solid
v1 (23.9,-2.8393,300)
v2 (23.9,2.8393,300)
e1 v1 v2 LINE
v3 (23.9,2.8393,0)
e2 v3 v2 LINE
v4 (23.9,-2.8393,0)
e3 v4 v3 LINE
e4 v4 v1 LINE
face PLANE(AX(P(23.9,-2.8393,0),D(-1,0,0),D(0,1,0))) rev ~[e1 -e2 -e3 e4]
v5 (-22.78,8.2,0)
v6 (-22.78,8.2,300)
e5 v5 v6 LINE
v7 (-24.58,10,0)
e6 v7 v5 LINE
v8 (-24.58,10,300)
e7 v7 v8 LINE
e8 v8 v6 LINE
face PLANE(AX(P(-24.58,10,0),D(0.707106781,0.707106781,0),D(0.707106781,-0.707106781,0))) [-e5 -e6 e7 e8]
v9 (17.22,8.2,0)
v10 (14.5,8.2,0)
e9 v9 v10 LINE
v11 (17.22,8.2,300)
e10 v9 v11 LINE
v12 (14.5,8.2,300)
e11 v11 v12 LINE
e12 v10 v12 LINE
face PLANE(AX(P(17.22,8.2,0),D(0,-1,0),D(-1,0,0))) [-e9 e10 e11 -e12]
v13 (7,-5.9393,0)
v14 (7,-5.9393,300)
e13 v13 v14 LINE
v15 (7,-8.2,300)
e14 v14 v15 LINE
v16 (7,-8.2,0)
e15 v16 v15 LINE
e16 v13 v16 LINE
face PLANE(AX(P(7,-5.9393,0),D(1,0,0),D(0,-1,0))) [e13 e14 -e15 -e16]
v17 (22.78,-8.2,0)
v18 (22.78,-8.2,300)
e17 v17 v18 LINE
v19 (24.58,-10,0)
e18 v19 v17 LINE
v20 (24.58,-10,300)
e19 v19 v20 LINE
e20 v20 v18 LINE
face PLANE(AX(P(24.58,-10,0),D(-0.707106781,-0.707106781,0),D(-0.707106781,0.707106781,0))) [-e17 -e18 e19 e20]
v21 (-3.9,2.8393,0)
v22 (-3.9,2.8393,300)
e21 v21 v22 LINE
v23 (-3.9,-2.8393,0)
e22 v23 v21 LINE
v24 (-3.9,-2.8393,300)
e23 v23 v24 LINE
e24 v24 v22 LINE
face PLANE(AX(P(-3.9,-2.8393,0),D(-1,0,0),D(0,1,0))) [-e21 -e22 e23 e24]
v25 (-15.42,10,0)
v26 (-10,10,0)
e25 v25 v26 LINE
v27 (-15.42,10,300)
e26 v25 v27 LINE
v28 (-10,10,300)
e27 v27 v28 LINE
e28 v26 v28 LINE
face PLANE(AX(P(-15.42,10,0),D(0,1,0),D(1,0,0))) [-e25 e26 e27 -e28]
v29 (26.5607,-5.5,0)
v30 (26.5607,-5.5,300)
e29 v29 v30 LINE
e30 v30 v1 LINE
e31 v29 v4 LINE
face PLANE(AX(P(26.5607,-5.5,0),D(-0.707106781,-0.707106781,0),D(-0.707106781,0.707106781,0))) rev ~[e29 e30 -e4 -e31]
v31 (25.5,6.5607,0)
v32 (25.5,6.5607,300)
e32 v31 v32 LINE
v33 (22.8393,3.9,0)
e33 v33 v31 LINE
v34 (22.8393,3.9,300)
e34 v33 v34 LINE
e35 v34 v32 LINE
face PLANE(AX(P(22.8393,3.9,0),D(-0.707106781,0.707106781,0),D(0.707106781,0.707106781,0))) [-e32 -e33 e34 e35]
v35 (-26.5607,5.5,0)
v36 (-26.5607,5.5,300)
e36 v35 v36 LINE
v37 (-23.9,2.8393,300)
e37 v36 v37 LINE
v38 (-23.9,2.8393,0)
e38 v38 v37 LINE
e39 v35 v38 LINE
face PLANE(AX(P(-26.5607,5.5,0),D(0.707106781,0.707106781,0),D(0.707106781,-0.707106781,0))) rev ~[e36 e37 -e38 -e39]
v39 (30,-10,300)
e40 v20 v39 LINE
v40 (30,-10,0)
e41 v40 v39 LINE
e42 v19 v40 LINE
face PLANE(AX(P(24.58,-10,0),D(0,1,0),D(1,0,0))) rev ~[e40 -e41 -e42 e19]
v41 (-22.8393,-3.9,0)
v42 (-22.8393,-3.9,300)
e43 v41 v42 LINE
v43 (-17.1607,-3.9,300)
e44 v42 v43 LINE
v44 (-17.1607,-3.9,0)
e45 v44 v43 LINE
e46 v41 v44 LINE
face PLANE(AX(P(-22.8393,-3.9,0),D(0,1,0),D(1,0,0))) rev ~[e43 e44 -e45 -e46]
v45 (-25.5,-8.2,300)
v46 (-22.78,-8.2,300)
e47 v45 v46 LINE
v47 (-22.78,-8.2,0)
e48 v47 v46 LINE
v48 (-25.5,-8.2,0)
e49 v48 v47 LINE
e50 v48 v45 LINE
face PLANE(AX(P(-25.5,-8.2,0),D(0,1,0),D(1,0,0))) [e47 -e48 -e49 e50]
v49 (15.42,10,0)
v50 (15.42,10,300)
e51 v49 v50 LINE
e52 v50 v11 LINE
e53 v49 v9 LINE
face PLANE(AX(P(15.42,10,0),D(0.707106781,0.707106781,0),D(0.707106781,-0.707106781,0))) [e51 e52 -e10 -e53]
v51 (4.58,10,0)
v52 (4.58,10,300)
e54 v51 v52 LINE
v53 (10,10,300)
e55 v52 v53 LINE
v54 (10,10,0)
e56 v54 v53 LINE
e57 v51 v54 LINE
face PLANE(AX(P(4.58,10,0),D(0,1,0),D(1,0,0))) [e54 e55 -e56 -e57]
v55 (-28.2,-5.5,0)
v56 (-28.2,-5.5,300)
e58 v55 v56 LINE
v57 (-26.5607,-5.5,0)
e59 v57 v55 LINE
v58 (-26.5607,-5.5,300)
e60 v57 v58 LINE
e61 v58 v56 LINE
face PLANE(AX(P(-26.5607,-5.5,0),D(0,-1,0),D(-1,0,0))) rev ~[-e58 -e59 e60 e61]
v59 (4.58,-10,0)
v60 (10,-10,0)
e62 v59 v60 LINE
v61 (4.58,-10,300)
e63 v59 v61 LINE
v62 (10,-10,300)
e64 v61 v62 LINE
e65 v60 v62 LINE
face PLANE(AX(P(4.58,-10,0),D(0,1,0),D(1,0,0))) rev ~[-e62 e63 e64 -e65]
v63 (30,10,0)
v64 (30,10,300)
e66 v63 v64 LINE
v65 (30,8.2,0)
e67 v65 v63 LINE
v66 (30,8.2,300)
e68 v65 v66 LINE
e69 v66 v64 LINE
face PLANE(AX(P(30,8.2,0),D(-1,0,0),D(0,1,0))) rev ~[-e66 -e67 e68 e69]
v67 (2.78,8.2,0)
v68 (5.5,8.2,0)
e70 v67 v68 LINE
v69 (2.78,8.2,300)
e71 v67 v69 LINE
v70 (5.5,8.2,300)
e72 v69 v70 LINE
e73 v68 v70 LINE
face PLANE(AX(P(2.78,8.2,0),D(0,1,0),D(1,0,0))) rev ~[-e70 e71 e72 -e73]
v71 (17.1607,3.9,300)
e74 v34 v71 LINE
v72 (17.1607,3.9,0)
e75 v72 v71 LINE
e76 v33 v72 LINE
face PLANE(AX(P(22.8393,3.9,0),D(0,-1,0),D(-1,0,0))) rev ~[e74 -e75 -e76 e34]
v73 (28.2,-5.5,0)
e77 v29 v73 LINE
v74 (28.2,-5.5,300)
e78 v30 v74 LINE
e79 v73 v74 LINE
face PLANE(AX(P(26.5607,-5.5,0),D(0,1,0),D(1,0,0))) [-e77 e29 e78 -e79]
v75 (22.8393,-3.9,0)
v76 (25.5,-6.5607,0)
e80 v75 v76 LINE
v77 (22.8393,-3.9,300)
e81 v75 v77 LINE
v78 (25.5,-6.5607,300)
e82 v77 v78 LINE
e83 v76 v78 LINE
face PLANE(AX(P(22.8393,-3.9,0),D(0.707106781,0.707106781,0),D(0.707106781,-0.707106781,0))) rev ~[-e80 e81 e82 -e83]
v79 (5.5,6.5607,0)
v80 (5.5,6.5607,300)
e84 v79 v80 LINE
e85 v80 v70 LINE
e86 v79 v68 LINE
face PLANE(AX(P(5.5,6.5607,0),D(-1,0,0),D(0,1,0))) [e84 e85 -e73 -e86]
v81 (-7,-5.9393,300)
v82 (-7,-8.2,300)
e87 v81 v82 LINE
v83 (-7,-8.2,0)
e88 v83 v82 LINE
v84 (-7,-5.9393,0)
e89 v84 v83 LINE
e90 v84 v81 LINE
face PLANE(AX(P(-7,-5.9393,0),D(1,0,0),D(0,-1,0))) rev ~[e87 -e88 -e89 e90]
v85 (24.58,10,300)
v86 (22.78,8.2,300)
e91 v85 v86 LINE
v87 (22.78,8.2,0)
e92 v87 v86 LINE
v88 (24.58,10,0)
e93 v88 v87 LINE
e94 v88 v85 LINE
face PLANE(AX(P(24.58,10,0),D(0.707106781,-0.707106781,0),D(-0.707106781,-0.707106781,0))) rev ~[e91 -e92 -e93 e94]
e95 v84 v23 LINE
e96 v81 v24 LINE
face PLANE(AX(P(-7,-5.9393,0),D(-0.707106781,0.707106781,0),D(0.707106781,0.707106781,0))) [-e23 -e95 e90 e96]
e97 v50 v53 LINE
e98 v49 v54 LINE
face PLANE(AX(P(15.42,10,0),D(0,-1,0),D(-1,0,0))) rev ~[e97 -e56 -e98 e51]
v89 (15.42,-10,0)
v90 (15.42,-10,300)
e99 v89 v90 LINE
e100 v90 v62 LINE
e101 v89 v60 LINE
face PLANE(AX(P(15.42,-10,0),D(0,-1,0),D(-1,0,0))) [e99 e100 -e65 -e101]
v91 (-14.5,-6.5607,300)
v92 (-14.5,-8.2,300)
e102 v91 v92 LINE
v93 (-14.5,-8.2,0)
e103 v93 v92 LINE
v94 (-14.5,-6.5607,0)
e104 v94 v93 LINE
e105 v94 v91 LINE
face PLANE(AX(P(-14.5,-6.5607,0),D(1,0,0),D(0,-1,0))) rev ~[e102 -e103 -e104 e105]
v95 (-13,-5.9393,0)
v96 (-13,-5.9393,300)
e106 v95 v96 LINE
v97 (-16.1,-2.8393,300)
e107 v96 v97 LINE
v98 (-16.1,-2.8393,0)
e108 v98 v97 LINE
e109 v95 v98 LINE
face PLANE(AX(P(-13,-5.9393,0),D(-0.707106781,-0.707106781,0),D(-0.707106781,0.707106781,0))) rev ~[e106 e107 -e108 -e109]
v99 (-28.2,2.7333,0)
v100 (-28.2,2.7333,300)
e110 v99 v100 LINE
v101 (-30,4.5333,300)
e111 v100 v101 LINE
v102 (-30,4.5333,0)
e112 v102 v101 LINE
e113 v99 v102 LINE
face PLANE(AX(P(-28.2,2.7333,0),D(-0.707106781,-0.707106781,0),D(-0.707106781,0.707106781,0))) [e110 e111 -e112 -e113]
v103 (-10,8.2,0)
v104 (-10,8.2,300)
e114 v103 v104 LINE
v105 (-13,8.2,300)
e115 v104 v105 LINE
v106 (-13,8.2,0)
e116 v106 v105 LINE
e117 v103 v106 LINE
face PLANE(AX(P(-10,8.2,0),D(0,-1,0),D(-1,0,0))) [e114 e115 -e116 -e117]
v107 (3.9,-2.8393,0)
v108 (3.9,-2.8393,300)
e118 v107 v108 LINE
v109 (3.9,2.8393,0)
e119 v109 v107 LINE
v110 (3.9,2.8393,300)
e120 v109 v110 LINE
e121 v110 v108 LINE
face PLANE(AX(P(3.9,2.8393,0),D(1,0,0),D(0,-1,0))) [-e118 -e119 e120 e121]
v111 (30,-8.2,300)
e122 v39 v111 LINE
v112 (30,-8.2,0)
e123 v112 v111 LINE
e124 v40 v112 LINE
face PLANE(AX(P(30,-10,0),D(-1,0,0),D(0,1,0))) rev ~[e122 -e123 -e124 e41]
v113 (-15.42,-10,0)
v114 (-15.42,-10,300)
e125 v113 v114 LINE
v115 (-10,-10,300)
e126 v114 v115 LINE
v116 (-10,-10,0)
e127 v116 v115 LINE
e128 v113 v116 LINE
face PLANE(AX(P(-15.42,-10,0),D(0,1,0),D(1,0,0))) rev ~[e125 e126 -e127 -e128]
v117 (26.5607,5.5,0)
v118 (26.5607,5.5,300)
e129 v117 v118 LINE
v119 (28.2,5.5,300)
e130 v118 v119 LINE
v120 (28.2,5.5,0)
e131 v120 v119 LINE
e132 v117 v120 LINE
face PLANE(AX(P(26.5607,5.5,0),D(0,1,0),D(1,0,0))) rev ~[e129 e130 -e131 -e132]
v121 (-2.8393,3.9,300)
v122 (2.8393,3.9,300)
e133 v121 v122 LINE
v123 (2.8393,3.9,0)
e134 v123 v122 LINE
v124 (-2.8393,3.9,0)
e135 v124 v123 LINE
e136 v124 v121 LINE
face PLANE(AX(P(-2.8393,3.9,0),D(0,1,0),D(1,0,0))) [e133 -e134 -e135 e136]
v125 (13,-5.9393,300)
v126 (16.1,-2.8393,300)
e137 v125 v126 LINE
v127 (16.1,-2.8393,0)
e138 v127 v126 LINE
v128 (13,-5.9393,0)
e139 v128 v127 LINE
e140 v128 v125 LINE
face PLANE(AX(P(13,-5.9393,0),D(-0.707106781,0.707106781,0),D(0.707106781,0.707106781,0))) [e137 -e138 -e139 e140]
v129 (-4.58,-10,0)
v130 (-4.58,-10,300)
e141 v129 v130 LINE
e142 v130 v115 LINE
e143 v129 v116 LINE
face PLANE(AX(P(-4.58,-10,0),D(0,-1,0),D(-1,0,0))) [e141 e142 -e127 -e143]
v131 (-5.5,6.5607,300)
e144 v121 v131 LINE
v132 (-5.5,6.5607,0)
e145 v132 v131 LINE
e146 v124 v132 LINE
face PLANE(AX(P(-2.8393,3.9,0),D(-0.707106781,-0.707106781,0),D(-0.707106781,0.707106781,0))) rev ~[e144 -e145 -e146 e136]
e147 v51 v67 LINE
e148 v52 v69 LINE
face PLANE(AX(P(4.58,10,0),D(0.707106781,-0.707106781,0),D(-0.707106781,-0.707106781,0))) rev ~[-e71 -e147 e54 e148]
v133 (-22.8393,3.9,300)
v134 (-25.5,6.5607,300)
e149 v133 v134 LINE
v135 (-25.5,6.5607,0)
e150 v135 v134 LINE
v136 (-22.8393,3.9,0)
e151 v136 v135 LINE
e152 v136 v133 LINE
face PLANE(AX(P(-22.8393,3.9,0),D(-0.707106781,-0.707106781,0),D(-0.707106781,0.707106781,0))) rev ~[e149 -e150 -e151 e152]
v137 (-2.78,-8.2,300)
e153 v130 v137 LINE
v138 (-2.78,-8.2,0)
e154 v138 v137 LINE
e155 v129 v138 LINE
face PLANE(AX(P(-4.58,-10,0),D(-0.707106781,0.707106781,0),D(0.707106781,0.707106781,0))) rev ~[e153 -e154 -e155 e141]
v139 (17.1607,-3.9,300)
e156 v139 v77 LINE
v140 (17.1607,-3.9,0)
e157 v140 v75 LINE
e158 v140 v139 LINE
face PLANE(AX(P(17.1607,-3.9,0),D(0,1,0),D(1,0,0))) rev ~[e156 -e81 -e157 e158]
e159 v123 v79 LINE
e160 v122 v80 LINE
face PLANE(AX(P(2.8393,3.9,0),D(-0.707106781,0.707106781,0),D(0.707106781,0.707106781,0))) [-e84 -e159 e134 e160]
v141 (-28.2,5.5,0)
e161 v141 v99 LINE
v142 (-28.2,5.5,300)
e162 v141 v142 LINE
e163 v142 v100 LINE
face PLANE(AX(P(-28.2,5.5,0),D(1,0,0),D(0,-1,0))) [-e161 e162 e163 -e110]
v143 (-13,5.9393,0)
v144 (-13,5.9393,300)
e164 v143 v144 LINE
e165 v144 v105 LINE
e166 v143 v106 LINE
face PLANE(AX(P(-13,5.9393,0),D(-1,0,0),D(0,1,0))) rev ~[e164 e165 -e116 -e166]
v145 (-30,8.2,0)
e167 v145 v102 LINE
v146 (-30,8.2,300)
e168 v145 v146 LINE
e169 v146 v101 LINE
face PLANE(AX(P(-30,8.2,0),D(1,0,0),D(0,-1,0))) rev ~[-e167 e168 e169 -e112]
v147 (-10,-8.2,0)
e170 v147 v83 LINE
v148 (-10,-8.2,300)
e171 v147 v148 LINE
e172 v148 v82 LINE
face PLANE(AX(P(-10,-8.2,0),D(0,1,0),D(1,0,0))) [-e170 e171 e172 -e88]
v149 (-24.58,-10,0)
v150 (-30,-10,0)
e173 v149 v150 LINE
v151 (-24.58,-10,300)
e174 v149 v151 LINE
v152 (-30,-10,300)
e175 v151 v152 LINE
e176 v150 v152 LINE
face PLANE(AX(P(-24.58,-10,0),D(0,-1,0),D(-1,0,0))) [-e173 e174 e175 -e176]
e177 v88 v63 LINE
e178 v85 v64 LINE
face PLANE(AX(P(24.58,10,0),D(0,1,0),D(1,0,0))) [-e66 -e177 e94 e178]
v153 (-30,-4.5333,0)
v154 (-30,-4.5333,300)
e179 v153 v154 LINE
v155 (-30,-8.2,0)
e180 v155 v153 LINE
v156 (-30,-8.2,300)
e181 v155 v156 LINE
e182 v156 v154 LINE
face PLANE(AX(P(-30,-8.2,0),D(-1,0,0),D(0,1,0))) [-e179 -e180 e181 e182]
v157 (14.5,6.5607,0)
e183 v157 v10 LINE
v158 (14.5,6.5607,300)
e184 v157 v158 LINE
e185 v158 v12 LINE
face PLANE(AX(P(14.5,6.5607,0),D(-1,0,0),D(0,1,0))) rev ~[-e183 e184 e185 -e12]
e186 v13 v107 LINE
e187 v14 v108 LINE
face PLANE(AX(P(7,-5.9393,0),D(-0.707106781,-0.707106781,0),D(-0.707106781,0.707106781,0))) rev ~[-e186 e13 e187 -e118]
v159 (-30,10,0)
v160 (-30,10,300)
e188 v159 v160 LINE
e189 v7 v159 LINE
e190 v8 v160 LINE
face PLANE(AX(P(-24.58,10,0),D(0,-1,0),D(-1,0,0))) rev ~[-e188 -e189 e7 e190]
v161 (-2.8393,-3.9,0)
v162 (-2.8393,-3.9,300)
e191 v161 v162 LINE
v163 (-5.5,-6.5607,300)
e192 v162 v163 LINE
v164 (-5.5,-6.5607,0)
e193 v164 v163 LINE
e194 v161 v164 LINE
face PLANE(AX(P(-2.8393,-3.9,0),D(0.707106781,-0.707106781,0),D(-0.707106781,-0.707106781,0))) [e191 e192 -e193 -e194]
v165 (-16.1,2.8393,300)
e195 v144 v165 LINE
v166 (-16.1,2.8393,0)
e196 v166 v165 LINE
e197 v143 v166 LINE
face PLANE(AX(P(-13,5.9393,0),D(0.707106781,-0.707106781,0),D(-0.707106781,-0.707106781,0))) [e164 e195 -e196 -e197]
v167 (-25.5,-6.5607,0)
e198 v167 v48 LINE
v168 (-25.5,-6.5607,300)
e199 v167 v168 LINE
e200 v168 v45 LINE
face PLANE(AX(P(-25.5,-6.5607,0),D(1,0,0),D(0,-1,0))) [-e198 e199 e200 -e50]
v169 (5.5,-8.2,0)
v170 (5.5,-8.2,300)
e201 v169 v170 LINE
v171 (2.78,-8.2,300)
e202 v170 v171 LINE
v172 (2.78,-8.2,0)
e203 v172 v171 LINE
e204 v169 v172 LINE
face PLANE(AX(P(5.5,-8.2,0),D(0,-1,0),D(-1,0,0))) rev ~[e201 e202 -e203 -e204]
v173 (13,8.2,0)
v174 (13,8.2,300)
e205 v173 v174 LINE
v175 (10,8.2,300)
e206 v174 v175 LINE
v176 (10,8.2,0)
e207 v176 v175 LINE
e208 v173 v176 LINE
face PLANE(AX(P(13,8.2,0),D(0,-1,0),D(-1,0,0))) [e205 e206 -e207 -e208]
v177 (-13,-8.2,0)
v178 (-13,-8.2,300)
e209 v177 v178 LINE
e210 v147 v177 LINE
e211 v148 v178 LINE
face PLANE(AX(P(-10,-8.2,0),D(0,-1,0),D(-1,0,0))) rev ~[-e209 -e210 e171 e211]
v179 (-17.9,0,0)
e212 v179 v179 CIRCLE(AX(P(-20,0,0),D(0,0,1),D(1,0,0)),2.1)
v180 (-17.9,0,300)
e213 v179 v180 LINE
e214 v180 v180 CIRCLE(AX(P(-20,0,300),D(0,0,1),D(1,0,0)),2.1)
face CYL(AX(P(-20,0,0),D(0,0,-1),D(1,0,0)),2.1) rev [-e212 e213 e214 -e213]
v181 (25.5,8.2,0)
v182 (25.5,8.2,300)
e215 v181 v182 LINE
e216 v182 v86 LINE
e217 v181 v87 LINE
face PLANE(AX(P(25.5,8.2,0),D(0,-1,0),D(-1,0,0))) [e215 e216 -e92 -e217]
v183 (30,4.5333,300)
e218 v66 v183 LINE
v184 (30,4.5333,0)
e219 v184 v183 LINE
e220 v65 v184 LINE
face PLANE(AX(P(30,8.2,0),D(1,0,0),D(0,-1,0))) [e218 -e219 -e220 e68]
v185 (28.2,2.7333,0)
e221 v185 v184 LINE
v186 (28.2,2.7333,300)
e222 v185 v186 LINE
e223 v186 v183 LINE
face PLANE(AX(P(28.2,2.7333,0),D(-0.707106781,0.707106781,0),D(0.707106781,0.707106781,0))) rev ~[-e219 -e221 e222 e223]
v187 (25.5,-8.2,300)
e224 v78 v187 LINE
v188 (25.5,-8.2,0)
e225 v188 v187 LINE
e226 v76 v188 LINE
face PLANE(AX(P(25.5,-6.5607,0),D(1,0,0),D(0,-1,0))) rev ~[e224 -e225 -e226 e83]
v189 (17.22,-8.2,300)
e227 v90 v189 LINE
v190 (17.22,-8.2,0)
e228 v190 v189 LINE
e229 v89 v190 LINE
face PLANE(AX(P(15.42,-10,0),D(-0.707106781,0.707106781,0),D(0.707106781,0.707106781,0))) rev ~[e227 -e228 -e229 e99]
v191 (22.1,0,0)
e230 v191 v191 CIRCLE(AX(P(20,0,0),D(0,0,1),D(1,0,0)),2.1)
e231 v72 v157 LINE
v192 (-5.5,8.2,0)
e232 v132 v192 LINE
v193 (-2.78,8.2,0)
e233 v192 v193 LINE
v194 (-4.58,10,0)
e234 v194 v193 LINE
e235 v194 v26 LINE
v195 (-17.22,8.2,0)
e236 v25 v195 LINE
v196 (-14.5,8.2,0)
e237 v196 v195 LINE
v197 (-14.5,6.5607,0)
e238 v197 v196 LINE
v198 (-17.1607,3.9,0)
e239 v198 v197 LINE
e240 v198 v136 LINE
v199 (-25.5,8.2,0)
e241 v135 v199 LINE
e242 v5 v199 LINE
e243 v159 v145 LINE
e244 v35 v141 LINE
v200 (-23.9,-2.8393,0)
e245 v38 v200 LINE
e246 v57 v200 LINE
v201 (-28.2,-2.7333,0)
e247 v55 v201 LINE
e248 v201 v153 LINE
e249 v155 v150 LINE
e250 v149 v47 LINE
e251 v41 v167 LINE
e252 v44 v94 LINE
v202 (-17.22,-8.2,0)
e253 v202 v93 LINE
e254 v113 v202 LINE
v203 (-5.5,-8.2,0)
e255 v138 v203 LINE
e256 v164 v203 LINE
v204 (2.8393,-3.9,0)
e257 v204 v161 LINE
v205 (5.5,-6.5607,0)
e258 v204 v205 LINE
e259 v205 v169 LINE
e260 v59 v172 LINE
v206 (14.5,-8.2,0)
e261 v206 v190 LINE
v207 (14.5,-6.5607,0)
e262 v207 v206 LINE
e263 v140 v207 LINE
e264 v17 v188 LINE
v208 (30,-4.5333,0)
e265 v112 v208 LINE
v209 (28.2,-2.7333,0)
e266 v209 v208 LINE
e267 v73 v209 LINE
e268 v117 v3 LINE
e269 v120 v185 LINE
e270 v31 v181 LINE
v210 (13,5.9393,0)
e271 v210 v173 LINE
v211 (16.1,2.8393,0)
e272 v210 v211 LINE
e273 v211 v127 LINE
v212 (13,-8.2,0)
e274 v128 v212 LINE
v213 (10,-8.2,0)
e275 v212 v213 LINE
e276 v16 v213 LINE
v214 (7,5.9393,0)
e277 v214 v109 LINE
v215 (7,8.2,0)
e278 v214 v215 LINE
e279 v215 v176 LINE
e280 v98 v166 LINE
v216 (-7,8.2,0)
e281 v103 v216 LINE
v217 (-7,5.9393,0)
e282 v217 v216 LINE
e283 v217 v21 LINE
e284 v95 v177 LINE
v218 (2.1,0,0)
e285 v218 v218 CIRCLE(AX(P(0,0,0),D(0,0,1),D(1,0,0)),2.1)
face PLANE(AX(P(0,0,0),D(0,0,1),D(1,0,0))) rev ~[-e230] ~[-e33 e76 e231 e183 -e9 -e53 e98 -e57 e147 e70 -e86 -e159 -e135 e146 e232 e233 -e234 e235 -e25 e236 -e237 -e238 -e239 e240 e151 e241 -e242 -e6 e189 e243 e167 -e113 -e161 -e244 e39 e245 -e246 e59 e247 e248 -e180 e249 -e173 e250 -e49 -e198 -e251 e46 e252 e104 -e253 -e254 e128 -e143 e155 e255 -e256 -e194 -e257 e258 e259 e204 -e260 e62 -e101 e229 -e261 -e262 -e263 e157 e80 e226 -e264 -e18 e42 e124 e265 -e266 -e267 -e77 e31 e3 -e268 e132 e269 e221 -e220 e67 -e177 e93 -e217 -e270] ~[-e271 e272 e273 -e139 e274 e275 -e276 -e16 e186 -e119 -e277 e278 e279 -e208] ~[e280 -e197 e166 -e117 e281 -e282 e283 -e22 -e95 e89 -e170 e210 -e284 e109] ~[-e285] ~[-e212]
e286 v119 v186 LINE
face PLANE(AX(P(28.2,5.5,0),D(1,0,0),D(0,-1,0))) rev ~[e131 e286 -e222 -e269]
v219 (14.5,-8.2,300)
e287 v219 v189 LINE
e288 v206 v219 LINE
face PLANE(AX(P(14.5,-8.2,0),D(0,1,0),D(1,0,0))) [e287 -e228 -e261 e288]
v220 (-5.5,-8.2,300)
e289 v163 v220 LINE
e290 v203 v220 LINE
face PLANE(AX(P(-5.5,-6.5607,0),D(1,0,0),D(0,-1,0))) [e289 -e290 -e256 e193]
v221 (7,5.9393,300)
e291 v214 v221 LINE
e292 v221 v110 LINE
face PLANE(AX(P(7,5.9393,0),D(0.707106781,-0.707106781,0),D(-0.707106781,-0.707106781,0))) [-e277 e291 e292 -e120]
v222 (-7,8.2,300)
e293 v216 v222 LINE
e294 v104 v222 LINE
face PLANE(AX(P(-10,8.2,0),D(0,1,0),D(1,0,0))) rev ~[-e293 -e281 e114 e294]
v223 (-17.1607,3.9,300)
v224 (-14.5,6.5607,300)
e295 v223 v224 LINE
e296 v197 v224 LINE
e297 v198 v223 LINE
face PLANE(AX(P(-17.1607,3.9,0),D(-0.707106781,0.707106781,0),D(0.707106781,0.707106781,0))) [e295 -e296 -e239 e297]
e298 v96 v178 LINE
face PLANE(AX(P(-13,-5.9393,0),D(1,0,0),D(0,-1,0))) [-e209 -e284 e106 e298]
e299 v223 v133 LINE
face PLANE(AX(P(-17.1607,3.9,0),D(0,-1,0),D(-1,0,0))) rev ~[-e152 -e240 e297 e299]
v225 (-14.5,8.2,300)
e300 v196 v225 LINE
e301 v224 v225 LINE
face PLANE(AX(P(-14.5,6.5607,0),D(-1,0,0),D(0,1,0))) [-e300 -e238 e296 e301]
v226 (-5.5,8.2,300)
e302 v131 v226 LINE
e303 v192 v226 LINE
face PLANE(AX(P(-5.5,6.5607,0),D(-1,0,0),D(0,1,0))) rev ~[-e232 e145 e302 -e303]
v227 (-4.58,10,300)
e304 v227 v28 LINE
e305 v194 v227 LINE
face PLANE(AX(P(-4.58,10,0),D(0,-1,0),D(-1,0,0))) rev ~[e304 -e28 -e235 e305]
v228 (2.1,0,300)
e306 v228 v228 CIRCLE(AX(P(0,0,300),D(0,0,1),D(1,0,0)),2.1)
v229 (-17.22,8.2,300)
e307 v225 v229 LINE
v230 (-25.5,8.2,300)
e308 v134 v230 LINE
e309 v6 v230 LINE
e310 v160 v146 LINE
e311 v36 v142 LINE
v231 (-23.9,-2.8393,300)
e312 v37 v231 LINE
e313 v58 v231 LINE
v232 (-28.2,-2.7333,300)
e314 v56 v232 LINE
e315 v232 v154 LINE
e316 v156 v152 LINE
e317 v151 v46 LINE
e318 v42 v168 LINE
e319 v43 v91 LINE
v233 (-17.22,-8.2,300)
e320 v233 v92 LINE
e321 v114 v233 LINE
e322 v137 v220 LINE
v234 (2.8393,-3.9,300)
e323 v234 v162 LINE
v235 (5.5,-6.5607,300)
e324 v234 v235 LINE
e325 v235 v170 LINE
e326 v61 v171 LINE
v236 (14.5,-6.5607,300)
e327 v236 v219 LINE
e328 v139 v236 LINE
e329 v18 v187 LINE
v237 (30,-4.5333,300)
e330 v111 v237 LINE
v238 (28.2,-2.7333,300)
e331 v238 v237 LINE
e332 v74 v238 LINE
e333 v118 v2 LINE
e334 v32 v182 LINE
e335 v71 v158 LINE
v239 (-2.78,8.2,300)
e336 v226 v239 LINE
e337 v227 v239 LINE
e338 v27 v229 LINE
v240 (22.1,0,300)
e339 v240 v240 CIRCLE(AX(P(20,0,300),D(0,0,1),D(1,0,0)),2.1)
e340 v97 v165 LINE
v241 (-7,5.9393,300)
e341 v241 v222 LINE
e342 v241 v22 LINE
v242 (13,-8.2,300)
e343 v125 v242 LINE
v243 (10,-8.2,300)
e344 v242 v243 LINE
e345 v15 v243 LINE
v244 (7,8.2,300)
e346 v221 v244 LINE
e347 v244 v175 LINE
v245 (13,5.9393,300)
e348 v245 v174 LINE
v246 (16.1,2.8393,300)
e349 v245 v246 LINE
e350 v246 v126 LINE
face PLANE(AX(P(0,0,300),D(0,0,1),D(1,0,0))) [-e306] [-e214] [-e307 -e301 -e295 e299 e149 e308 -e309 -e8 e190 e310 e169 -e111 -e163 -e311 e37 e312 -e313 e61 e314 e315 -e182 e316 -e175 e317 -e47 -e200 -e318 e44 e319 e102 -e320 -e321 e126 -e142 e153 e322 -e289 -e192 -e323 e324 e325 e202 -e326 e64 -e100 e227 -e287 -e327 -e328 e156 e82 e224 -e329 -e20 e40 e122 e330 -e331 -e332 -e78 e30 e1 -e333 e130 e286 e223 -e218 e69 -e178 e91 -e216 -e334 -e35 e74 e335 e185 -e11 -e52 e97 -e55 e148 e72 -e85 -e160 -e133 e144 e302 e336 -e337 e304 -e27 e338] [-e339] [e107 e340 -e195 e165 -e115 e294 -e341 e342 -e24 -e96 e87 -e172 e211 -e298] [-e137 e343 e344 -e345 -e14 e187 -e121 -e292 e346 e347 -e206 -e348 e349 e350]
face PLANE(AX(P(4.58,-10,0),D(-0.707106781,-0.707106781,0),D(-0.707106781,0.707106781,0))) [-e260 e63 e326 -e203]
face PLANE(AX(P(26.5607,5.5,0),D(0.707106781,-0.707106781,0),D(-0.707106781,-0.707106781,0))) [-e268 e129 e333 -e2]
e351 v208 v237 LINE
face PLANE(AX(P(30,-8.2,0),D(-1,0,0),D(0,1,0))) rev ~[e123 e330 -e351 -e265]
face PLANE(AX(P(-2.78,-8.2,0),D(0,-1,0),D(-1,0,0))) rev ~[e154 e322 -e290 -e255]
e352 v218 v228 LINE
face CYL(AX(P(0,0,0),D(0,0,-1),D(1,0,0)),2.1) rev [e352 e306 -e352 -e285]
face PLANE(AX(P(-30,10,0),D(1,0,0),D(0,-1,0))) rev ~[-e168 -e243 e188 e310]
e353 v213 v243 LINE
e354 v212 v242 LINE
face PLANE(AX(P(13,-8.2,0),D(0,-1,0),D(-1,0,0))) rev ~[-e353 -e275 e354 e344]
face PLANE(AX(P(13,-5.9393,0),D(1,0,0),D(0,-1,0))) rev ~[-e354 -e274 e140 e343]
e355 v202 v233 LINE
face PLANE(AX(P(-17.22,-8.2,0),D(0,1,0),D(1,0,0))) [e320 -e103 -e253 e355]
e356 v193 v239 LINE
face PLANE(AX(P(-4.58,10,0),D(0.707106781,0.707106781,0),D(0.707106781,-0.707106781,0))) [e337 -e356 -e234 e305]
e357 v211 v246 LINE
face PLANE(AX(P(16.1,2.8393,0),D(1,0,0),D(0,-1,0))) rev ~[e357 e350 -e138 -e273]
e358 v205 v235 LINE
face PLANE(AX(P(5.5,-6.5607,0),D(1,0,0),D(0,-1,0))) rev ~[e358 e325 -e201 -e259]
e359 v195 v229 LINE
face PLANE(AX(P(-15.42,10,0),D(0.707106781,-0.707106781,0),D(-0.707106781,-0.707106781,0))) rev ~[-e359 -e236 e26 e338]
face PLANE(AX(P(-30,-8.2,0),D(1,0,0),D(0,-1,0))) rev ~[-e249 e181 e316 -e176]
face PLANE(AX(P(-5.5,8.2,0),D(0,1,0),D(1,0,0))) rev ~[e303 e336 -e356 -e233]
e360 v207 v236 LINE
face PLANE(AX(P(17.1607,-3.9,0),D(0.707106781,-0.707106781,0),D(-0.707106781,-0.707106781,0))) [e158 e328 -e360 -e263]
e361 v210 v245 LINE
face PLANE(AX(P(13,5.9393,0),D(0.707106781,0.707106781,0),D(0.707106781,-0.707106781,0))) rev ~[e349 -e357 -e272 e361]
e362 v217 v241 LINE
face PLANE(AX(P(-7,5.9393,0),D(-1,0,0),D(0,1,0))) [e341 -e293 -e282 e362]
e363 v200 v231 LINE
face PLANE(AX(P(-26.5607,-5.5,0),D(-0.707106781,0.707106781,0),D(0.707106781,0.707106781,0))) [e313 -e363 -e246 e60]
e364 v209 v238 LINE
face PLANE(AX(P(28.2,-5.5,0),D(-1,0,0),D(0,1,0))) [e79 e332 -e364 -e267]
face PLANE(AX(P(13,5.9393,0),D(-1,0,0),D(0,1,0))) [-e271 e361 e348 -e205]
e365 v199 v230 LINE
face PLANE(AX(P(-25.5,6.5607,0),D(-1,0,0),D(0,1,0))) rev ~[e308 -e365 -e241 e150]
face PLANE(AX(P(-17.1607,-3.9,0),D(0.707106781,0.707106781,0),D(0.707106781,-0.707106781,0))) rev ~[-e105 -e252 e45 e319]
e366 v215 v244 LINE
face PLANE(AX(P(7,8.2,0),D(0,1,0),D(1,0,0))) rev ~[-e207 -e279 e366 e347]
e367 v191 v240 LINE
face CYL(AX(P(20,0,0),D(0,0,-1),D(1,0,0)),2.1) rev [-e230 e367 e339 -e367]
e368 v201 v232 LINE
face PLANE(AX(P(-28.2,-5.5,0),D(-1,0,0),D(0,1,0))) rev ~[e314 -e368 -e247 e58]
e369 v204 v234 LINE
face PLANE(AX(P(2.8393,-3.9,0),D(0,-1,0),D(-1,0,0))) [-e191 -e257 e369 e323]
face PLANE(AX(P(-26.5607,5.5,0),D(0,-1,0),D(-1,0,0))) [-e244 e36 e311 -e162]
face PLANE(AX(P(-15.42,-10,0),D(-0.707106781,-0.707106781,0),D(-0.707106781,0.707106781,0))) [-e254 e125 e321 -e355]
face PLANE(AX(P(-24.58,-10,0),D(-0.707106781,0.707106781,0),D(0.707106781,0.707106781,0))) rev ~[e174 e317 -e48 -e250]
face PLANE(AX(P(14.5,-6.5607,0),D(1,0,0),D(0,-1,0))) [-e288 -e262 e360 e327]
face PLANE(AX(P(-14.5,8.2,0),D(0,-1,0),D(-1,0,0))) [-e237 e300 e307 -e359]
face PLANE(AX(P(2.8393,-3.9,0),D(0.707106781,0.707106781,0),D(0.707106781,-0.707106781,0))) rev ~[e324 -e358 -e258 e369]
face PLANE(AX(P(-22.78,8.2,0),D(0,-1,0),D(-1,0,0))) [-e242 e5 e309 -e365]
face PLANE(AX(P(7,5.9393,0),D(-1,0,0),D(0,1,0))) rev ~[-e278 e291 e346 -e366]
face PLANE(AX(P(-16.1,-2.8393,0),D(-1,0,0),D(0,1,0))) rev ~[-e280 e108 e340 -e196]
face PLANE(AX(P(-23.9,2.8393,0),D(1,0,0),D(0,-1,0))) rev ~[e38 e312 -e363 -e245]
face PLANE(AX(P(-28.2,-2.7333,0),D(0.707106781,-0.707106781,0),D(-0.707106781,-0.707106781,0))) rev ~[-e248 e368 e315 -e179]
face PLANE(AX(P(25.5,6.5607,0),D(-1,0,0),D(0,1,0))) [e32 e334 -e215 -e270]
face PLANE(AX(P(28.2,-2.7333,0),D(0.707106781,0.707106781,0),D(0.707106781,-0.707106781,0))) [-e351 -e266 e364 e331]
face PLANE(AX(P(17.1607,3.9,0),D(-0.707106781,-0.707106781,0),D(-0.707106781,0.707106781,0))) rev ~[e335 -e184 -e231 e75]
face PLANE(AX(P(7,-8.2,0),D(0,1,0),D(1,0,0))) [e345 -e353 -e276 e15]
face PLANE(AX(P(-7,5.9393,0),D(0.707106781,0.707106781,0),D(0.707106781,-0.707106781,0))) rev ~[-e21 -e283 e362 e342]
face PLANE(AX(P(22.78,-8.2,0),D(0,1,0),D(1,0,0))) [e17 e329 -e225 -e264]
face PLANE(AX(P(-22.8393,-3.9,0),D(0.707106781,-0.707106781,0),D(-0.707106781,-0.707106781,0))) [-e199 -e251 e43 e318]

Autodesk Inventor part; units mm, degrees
ref_plane "YZ Plane" through (0, 0, 0) normal (1, 0, 0) x (0, 1, 0)
ref_plane "XZ Plane" through (0, 0, 0) normal (0, 1, 0) x (-1, 0, 0)
ref_plane "XY Plane" through (0, 0, 0) normal (0, 0, 1) x (1, 0, 0)
sketch "Boceto1" plane through (0, 0, 0) normal (0, 0, 1) x (1, 0, 0)
  circle A0 centre (0, 0) radius 2.1
  line L0 (-2.8393, 3.9) -> (2.8393, 3.9)
  line L1 (3.9, 2.8393) -> (3.9, -2.8393)
  line L2 (2.8393, -3.9) -> (-2.8393, -3.9)
  line L3 (-3.9, -2.8393) -> (-3.9, 2.8393)
  line L4 (-3.9, 3.9) -> (3.9, -3.9) construction
  line L5 (3.9, 3.9) -> (-3.9, -3.9) construction
  line L6 (3.9, 3.9) -> (5.9093, 5.9093) construction
  line L7 (7, 5.9393) -> (3.9, 2.8393)
  line L8 (2.8393, 3.9) -> (5.5, 6.5607)
  line L9 (30, -10) -> (-30, -10) construction
  line L10 (-30, -10) -> (-30, 10) construction
  line L11 (-30, 10) -> (30, 10) construction
  line L12 (30, 10) -> (30, -10) construction
  line L13 (30, -10) -> (-30, 10) construction
  line L14 (-30, -10) -> (30, 10) construction
  line L15 (10, -10) -> (-10, -10) construction
  line L16 (-10, 10) -> (10, 10) construction
  line L17 (10, -10) -> (-10, 10) construction
  line L18 (-10, -10) -> (10, 10) construction
  line L19 (5.5, 6.5607) -> (5.5, 8.2)
  line L20 (7, 5.9393) -> (7, 8.2)
  line L21 (0, 10) -> (0, -10) construction
  line L22 (-3.9, 3.9) -> (-5.9093, 5.9093) construction
  line L23 (-7, 5.9393) -> (-3.9, 2.8393)
  line L24 (-2.8393, 3.9) -> (-5.5, 6.5607)
  line L25 (10, -10) -> (-10, 10) construction
  line L26 (-5.5, 6.5607) -> (-5.5, 8.2)
  line L27 (4.58, 10) -> (2.78, 8.2)
  line L28 (-4.58, 10) -> (-2.78, 8.2)
  line L29 (-7, 5.9393) -> (-7, 8.2)
  line L30 (-30, 0) -> (30, 0) construction
  line L31 (3.9, -3.9) -> (5.9093, -5.9093) construction
  line L32 (7, -5.9393) -> (3.9, -2.8393)
  line L33 (2.8393, -3.9) -> (5.5, -6.5607)
  line L34 (10, 10) -> (-10, -10) construction
  line L35 (-10, 10) -> (10, -10) construction
  line L36 (5.5, -6.5607) -> (5.5, -8.2)
  line L37 (7, -5.9393) -> (7, -8.2)
  line L38 (-5.5, -6.5607) -> (-5.5, -8.2)
  line L39 (-3.9, -3.9) -> (-5.9093, -5.9093) construction
  line L40 (-7, -5.9393) -> (-3.9, -2.8393)
  line L41 (-2.8393, -3.9) -> (-5.5, -6.5607)
  line L42 (10, 10) -> (-10, -10) construction
  line L43 (4.58, -10) -> (2.78, -8.2)
  line L44 (-4.58, -10) -> (-2.78, -8.2)
  line L45 (-7, -5.9393) -> (-7, -8.2)
  line L46 (-2.78, -8.2) -> (-5.5, -8.2)
  line L47 (5.5, -8.2) -> (2.78, -8.2)
  line L48 (7, -8.2) -> (10, -8.2)
  line L49 (-10, 8.2) -> (-7, 8.2)
  line L50 (-5.5, 8.2) -> (-2.78, 8.2)
  line L51 (2.78, 8.2) -> (5.5, 8.2)
  line L52 (7, 8.2) -> (10, 8.2)
  line L53 (-10, 8.2) -> (10, 8.2) construction
  line L54 (20, -10) -> (20, 10) construction
  line L55 (-10, -10) -> (-10, 10) construction
  line L56 (10, 10) -> (10, -10) construction
  line L57 (-4.58, 10) -> (-10, 10)
  line L58 (4.58, 10) -> (10, 10)
  line L59 (4.58, -10) -> (10, -10)
  line L60 (-4.58, -10) -> (-10, -10)
  circle A1 centre (20, 0) radius 2.1
  line L61 (22.8393, 3.9) -> (17.1607, 3.9)
  line L62 (16.1, 2.8393) -> (16.1, -2.8393)
  line L63 (17.1607, -3.9) -> (22.8393, -3.9)
  line L64 (23.9, -2.8393) -> (23.9, 2.8393)
  line L65 (23.9, 3.9) -> (16.1, -3.9) construction
  line L66 (16.1, 3.9) -> (23.9, -3.9) construction
  line L67 (16.1, 3.9) -> (14.0907, 5.9093) construction
  line L68 (13, 5.9393) -> (16.1, 2.8393)
  line L69 (17.1607, 3.9) -> (14.5, 6.5607)
  line L70 (-10, -10) -> (50, -10) construction
  line L71 (50, 10) -> (-10, 10) construction
  line L72 (-10, -10) -> (50, 10) construction
  line L73 (50, -10) -> (-10, 10) construction
  line L74 (10, -10) -> (30, -10) construction
  line L75 (30, 10) -> (10, 10) construction
  line L76 (10, -10) -> (30, 10) construction
  line L77 (30, -10) -> (10, 10) construction
  line L78 (14.5, 6.5607) -> (14.5, 8.2)
  line L79 (13, 5.9393) -> (13, 8.2)
  line L80 (20, 10) -> (20, -10) construction
  line L81 (25.5, 6.5607) -> (25.5, 8.2)
  line L82 (23.9, 3.9) -> (25.9093, 5.9093) construction
  line L83 (26.5607, 5.5) -> (23.9, 2.8393)
  line L84 (22.8393, 3.9) -> (25.5, 6.5607)
  line L85 (10, -10) -> (30, 10) construction
  line L86 (15.42, 10) -> (17.22, 8.2)
  line L87 (24.58, 10) -> (22.78, 8.2)
  line L88 (50, 0) -> (-10, 0) construction
  line L89 (16.1, -3.9) -> (14.0907, -5.9093) construction
  line L90 (30, 10) -> (10, -10) construction
  line L91 (13, -5.9393) -> (16.1, -2.8393)
  line L92 (17.1607, -3.9) -> (14.5, -6.5607)
  line L93 (14.5, -6.5607) -> (14.5, -8.2)
  line L94 (13, -5.9393) -> (13, -8.2)
  line L95 (15.42, -10) -> (17.22, -8.2)
  line L96 (27, -5.9393) -> (27, -8.2) construction
  line L97 (10, 10) -> (30, -10) construction
  line L98 (10, 10) -> (30, -10) construction
  line L99 (25.5, -6.5607) -> (25.5, -8.2)
  line L100 (26.5607, -5.5) -> (23.9, -2.8393)
  line L101 (23.9, -3.9) -> (25.9093, -5.9093) construction
  line L102 (22.8393, -3.9) -> (25.5, -6.5607)
  line L103 (24.58, -10) -> (22.78, -8.2)
  line L104 (22.78, -8.2) -> (25.5, -8.2)
  line L105 (27.1393, -8.2) -> (30, -8.2) construction
  line L106 (14.5, -8.2) -> (17.22, -8.2)
  line L107 (13, -8.2) -> (10, -8.2)
  line L108 (25.5, 8.2) -> (22.78, 8.2)
  line L109 (17.22, 8.2) -> (14.5, 8.2)
  line L110 (13, 8.2) -> (10, 8.2)
  line L111 (28.2, 8.2) -> (10, 8.2) construction
  line L112 (30, -10) -> (30, 10) construction
  line L113 (24.58, 10) -> (30, 10)
  line L114 (15.42, 10) -> (10, 10)
  line L115 (15.42, -10) -> (10, -10)
  line L116 (24.58, -10) -> (30, -10)
  circle A2 centre (-20, 0) radius 2.1
  line L117 (-17.1607, 3.9) -> (-22.8393, 3.9)
  line L118 (-23.9, 2.8393) -> (-23.9, -2.8393)
  line L119 (-22.8393, -3.9) -> (-17.1607, -3.9)
  line L120 (-16.1, -2.8393) -> (-16.1, 2.8393)
  line L121 (-16.1, 3.9) -> (-23.9, -3.9) construction
  line L122 (-23.9, 3.9) -> (-16.1, -3.9) construction
  line L123 (-23.9, 3.9) -> (-25.9093, 5.9093) construction
  line L124 (-26.5607, 5.5) -> (-23.9, 2.8393)
  line L125 (-22.8393, 3.9) -> (-25.5, 6.5607)
  line L126 (-50, -10) -> (10, -10) construction
  line L127 (10, 10) -> (-50, 10) construction
  line L128 (-50, -10) -> (10, 10) construction
  line L129 (10, -10) -> (-50, 10) construction
  line L130 (-30, -10) -> (-10, -10) construction
  line L131 (-10, 10) -> (-30, 10) construction
  line L132 (-30, -10) -> (-10, 10) construction
  line L133 (-10, -10) -> (-30, 10) construction
  line L134 (-25.5, 6.5607) -> (-25.5, 8.2)
  line L135 (-20, 10) -> (-20, -10) construction
  line L136 (-14.5, 6.5607) -> (-14.5, 8.2)
  line L137 (-16.1, 3.9) -> (-14.0907, 5.9093) construction
  line L138 (-13, 5.9393) -> (-16.1, 2.8393)
  line L139 (-17.1607, 3.9) -> (-14.5, 6.5607)
  line L140 (-30, -10) -> (-10, 10) construction
  line L141 (-24.58, 10) -> (-22.78, 8.2)
  line L142 (-15.42, 10) -> (-17.22, 8.2)
  line L143 (-13, 5.9393) -> (-13, 8.2)
  line L144 (10, 0) -> (-50, 0) construction
  line L145 (-23.9, -3.9) -> (-25.9093, -5.9093) construction
  line L146 (-10, 10) -> (-30, -10) construction
  line L147 (-26.5607, -5.5) -> (-23.9, -2.8393)
  line L148 (-22.8393, -3.9) -> (-25.5, -6.5607)
  line L149 (-25.5, -6.5607) -> (-25.5, -8.2)
  line L150 (-24.58, -10) -> (-22.78, -8.2)
  line L151 (-13, -5.9393) -> (-13, -8.2)
  line L152 (-30, 10) -> (-10, -10) construction
  line L153 (-30, 10) -> (-10, -10) construction
  line L154 (-14.5, -6.5607) -> (-14.5, -8.2)
  line L155 (-13, -5.9393) -> (-16.1, -2.8393)
  line L156 (-16.1, -3.9) -> (-14.0907, -5.9093) construction
  line L157 (-17.1607, -3.9) -> (-14.5, -6.5607)
  line L158 (-15.42, -10) -> (-17.22, -8.2)
  line L159 (-17.22, -8.2) -> (-14.5, -8.2)
  line L160 (-25.5, -8.2) -> (-22.78, -8.2)
  line L161 (-10, 8.2) -> (-13, 8.2)
  line L162 (-14.5, 8.2) -> (-17.22, 8.2)
  line L163 (-22.78, 8.2) -> (-25.5, 8.2)
  line L164 (-10, 8.2) -> (-25.5, 8.2) construction
  line L165 (-30, 10) -> (-30, -10) construction
  line L166 (-15.42, 10) -> (-10, 10)
  line L167 (-24.58, 10) -> (-30, 10)
  line L168 (-24.58, -10) -> (-30, -10)
  line L169 (-15.42, -10) -> (-10, -10)
  line L170 (-30, -10) -> (-50, -10) construction
  line L171 (-10, -10) -> (-70, -10) construction
  line L172 (-70, 10) -> (-10, 10) construction
  line L173 (-10, -10) -> (-70, 10) construction
  line L174 (-70, -10) -> (-10, 10) construction
  line L175 (-70, 0) -> (-10, 0) construction
  line L176 (-30, 10) -> (-50, -10) construction
  line L177 (-30, 10) -> (-50, -10) construction
  line L178 (-50, 10) -> (-30, -10) construction
  line L179 (-30, -10) -> (-50, 10) construction
  line L180 (-30, -10) -> (-50, 10) construction
  line L181 (-50, -10) -> (-30, 10) construction
  line L182 (-50, 8.2) -> (-30, 8.2) construction
  line L183 (-50, 10) -> (-30, 10) construction
  line L184 (-30, 10) -> (-30, 8.2)
  line L185 (-30, -8.2) -> (-30, -10)
  line L186 (30, -10) -> (30, -8.2)
  line L187 (30, 8.2) -> (30, 10)
  line L188 (28.2, -10) -> (28.2, -5.5) construction
  line L189 (28.2, -5.5) -> (28.2, -2.7333)
  line L190 (25.5, -6.5607) -> (26.5607, -5.5) construction
  line L191 (26.5607, -5.5) -> (28.2, -5.5)
  line L192 (28.2, -2.7333) -> (30, -4.5333)
  line L193 (30, -8.2) -> (30, -4.5333)
  line L194 (26.5607, 5.5) -> (23.9, 2.8393)
  line L195 (30, 10) -> (30, 8.2)
  line L196 (28.2, 5.5) -> (28.2, 2.7333)
  line L197 (26.5607, 5.5) -> (28.2, 5.5)
  line L198 (28.2, 2.7333) -> (30, 4.5333)
  line L199 (30, 8.2) -> (30, 4.5333)
  line L200 (-50, -10) -> (10, 10) construction
  line L201 (-28.2, -5.5) -> (-28.2, -2.7333)
  line L202 (-26.5607, -5.5) -> (-28.2, -5.5)
  line L203 (-28.2, -2.7333) -> (-30, -4.5333)
  line L204 (-30, -8.2) -> (-30, -4.5333)
  line L205 (-26.5607, 5.5) -> (-28.2, 5.5)
  line L206 (-28.2, 5.5) -> (-28.2, 2.7333)
  line L207 (-28.2, 2.7333) -> (-30, 4.5333)
  line L208 (-30, 8.2) -> (-30, 4.5333)
  line L209 (-10, -8.2) -> (-13, -8.2)
  line L210 (-10, -8.2) -> (-7, -8.2)
  dimension "d0" = 4.2
  dimension "d2" = 3.9
  dimension "d3" = 3.9
  dimension "d5" = 45
  dimension "d6" = 0.75
  dimension "d7" = 0.75
  dimension "d8" = 60
  dimension "d9" = 20
  dimension "d13" = 1.5
  dimension "d37" = 9.16
  dimension "d41" = 11
  dimension "d42" = 90
  dimension "d45" = 4.58
  dimension "d46" = 45
  dimension "d47" = 45
  dimension "d48" = 2.72
  dimension "d49" = 1.8
  dimension "d50" = 2.72
  dimension "d51" = 1.0607
  dimension "d53" = 10
  dimension "d54" = 20
  dimension "d55" = 3
  dimension "d56" = 1.6393
  dimension "d58" = 2.72
  dimension "d61" = 2.6607
  dimension "d62" = 3.4393
  dimension "d66" = 1.8
  dimension "d68" = 5.42
  dimension "d71" = 45
  dimension "d72" = 2.6607
extrude "Extrusión1" add sketch "Boceto1" along normal blind 300
properties part number "V-SLOT_2060"
